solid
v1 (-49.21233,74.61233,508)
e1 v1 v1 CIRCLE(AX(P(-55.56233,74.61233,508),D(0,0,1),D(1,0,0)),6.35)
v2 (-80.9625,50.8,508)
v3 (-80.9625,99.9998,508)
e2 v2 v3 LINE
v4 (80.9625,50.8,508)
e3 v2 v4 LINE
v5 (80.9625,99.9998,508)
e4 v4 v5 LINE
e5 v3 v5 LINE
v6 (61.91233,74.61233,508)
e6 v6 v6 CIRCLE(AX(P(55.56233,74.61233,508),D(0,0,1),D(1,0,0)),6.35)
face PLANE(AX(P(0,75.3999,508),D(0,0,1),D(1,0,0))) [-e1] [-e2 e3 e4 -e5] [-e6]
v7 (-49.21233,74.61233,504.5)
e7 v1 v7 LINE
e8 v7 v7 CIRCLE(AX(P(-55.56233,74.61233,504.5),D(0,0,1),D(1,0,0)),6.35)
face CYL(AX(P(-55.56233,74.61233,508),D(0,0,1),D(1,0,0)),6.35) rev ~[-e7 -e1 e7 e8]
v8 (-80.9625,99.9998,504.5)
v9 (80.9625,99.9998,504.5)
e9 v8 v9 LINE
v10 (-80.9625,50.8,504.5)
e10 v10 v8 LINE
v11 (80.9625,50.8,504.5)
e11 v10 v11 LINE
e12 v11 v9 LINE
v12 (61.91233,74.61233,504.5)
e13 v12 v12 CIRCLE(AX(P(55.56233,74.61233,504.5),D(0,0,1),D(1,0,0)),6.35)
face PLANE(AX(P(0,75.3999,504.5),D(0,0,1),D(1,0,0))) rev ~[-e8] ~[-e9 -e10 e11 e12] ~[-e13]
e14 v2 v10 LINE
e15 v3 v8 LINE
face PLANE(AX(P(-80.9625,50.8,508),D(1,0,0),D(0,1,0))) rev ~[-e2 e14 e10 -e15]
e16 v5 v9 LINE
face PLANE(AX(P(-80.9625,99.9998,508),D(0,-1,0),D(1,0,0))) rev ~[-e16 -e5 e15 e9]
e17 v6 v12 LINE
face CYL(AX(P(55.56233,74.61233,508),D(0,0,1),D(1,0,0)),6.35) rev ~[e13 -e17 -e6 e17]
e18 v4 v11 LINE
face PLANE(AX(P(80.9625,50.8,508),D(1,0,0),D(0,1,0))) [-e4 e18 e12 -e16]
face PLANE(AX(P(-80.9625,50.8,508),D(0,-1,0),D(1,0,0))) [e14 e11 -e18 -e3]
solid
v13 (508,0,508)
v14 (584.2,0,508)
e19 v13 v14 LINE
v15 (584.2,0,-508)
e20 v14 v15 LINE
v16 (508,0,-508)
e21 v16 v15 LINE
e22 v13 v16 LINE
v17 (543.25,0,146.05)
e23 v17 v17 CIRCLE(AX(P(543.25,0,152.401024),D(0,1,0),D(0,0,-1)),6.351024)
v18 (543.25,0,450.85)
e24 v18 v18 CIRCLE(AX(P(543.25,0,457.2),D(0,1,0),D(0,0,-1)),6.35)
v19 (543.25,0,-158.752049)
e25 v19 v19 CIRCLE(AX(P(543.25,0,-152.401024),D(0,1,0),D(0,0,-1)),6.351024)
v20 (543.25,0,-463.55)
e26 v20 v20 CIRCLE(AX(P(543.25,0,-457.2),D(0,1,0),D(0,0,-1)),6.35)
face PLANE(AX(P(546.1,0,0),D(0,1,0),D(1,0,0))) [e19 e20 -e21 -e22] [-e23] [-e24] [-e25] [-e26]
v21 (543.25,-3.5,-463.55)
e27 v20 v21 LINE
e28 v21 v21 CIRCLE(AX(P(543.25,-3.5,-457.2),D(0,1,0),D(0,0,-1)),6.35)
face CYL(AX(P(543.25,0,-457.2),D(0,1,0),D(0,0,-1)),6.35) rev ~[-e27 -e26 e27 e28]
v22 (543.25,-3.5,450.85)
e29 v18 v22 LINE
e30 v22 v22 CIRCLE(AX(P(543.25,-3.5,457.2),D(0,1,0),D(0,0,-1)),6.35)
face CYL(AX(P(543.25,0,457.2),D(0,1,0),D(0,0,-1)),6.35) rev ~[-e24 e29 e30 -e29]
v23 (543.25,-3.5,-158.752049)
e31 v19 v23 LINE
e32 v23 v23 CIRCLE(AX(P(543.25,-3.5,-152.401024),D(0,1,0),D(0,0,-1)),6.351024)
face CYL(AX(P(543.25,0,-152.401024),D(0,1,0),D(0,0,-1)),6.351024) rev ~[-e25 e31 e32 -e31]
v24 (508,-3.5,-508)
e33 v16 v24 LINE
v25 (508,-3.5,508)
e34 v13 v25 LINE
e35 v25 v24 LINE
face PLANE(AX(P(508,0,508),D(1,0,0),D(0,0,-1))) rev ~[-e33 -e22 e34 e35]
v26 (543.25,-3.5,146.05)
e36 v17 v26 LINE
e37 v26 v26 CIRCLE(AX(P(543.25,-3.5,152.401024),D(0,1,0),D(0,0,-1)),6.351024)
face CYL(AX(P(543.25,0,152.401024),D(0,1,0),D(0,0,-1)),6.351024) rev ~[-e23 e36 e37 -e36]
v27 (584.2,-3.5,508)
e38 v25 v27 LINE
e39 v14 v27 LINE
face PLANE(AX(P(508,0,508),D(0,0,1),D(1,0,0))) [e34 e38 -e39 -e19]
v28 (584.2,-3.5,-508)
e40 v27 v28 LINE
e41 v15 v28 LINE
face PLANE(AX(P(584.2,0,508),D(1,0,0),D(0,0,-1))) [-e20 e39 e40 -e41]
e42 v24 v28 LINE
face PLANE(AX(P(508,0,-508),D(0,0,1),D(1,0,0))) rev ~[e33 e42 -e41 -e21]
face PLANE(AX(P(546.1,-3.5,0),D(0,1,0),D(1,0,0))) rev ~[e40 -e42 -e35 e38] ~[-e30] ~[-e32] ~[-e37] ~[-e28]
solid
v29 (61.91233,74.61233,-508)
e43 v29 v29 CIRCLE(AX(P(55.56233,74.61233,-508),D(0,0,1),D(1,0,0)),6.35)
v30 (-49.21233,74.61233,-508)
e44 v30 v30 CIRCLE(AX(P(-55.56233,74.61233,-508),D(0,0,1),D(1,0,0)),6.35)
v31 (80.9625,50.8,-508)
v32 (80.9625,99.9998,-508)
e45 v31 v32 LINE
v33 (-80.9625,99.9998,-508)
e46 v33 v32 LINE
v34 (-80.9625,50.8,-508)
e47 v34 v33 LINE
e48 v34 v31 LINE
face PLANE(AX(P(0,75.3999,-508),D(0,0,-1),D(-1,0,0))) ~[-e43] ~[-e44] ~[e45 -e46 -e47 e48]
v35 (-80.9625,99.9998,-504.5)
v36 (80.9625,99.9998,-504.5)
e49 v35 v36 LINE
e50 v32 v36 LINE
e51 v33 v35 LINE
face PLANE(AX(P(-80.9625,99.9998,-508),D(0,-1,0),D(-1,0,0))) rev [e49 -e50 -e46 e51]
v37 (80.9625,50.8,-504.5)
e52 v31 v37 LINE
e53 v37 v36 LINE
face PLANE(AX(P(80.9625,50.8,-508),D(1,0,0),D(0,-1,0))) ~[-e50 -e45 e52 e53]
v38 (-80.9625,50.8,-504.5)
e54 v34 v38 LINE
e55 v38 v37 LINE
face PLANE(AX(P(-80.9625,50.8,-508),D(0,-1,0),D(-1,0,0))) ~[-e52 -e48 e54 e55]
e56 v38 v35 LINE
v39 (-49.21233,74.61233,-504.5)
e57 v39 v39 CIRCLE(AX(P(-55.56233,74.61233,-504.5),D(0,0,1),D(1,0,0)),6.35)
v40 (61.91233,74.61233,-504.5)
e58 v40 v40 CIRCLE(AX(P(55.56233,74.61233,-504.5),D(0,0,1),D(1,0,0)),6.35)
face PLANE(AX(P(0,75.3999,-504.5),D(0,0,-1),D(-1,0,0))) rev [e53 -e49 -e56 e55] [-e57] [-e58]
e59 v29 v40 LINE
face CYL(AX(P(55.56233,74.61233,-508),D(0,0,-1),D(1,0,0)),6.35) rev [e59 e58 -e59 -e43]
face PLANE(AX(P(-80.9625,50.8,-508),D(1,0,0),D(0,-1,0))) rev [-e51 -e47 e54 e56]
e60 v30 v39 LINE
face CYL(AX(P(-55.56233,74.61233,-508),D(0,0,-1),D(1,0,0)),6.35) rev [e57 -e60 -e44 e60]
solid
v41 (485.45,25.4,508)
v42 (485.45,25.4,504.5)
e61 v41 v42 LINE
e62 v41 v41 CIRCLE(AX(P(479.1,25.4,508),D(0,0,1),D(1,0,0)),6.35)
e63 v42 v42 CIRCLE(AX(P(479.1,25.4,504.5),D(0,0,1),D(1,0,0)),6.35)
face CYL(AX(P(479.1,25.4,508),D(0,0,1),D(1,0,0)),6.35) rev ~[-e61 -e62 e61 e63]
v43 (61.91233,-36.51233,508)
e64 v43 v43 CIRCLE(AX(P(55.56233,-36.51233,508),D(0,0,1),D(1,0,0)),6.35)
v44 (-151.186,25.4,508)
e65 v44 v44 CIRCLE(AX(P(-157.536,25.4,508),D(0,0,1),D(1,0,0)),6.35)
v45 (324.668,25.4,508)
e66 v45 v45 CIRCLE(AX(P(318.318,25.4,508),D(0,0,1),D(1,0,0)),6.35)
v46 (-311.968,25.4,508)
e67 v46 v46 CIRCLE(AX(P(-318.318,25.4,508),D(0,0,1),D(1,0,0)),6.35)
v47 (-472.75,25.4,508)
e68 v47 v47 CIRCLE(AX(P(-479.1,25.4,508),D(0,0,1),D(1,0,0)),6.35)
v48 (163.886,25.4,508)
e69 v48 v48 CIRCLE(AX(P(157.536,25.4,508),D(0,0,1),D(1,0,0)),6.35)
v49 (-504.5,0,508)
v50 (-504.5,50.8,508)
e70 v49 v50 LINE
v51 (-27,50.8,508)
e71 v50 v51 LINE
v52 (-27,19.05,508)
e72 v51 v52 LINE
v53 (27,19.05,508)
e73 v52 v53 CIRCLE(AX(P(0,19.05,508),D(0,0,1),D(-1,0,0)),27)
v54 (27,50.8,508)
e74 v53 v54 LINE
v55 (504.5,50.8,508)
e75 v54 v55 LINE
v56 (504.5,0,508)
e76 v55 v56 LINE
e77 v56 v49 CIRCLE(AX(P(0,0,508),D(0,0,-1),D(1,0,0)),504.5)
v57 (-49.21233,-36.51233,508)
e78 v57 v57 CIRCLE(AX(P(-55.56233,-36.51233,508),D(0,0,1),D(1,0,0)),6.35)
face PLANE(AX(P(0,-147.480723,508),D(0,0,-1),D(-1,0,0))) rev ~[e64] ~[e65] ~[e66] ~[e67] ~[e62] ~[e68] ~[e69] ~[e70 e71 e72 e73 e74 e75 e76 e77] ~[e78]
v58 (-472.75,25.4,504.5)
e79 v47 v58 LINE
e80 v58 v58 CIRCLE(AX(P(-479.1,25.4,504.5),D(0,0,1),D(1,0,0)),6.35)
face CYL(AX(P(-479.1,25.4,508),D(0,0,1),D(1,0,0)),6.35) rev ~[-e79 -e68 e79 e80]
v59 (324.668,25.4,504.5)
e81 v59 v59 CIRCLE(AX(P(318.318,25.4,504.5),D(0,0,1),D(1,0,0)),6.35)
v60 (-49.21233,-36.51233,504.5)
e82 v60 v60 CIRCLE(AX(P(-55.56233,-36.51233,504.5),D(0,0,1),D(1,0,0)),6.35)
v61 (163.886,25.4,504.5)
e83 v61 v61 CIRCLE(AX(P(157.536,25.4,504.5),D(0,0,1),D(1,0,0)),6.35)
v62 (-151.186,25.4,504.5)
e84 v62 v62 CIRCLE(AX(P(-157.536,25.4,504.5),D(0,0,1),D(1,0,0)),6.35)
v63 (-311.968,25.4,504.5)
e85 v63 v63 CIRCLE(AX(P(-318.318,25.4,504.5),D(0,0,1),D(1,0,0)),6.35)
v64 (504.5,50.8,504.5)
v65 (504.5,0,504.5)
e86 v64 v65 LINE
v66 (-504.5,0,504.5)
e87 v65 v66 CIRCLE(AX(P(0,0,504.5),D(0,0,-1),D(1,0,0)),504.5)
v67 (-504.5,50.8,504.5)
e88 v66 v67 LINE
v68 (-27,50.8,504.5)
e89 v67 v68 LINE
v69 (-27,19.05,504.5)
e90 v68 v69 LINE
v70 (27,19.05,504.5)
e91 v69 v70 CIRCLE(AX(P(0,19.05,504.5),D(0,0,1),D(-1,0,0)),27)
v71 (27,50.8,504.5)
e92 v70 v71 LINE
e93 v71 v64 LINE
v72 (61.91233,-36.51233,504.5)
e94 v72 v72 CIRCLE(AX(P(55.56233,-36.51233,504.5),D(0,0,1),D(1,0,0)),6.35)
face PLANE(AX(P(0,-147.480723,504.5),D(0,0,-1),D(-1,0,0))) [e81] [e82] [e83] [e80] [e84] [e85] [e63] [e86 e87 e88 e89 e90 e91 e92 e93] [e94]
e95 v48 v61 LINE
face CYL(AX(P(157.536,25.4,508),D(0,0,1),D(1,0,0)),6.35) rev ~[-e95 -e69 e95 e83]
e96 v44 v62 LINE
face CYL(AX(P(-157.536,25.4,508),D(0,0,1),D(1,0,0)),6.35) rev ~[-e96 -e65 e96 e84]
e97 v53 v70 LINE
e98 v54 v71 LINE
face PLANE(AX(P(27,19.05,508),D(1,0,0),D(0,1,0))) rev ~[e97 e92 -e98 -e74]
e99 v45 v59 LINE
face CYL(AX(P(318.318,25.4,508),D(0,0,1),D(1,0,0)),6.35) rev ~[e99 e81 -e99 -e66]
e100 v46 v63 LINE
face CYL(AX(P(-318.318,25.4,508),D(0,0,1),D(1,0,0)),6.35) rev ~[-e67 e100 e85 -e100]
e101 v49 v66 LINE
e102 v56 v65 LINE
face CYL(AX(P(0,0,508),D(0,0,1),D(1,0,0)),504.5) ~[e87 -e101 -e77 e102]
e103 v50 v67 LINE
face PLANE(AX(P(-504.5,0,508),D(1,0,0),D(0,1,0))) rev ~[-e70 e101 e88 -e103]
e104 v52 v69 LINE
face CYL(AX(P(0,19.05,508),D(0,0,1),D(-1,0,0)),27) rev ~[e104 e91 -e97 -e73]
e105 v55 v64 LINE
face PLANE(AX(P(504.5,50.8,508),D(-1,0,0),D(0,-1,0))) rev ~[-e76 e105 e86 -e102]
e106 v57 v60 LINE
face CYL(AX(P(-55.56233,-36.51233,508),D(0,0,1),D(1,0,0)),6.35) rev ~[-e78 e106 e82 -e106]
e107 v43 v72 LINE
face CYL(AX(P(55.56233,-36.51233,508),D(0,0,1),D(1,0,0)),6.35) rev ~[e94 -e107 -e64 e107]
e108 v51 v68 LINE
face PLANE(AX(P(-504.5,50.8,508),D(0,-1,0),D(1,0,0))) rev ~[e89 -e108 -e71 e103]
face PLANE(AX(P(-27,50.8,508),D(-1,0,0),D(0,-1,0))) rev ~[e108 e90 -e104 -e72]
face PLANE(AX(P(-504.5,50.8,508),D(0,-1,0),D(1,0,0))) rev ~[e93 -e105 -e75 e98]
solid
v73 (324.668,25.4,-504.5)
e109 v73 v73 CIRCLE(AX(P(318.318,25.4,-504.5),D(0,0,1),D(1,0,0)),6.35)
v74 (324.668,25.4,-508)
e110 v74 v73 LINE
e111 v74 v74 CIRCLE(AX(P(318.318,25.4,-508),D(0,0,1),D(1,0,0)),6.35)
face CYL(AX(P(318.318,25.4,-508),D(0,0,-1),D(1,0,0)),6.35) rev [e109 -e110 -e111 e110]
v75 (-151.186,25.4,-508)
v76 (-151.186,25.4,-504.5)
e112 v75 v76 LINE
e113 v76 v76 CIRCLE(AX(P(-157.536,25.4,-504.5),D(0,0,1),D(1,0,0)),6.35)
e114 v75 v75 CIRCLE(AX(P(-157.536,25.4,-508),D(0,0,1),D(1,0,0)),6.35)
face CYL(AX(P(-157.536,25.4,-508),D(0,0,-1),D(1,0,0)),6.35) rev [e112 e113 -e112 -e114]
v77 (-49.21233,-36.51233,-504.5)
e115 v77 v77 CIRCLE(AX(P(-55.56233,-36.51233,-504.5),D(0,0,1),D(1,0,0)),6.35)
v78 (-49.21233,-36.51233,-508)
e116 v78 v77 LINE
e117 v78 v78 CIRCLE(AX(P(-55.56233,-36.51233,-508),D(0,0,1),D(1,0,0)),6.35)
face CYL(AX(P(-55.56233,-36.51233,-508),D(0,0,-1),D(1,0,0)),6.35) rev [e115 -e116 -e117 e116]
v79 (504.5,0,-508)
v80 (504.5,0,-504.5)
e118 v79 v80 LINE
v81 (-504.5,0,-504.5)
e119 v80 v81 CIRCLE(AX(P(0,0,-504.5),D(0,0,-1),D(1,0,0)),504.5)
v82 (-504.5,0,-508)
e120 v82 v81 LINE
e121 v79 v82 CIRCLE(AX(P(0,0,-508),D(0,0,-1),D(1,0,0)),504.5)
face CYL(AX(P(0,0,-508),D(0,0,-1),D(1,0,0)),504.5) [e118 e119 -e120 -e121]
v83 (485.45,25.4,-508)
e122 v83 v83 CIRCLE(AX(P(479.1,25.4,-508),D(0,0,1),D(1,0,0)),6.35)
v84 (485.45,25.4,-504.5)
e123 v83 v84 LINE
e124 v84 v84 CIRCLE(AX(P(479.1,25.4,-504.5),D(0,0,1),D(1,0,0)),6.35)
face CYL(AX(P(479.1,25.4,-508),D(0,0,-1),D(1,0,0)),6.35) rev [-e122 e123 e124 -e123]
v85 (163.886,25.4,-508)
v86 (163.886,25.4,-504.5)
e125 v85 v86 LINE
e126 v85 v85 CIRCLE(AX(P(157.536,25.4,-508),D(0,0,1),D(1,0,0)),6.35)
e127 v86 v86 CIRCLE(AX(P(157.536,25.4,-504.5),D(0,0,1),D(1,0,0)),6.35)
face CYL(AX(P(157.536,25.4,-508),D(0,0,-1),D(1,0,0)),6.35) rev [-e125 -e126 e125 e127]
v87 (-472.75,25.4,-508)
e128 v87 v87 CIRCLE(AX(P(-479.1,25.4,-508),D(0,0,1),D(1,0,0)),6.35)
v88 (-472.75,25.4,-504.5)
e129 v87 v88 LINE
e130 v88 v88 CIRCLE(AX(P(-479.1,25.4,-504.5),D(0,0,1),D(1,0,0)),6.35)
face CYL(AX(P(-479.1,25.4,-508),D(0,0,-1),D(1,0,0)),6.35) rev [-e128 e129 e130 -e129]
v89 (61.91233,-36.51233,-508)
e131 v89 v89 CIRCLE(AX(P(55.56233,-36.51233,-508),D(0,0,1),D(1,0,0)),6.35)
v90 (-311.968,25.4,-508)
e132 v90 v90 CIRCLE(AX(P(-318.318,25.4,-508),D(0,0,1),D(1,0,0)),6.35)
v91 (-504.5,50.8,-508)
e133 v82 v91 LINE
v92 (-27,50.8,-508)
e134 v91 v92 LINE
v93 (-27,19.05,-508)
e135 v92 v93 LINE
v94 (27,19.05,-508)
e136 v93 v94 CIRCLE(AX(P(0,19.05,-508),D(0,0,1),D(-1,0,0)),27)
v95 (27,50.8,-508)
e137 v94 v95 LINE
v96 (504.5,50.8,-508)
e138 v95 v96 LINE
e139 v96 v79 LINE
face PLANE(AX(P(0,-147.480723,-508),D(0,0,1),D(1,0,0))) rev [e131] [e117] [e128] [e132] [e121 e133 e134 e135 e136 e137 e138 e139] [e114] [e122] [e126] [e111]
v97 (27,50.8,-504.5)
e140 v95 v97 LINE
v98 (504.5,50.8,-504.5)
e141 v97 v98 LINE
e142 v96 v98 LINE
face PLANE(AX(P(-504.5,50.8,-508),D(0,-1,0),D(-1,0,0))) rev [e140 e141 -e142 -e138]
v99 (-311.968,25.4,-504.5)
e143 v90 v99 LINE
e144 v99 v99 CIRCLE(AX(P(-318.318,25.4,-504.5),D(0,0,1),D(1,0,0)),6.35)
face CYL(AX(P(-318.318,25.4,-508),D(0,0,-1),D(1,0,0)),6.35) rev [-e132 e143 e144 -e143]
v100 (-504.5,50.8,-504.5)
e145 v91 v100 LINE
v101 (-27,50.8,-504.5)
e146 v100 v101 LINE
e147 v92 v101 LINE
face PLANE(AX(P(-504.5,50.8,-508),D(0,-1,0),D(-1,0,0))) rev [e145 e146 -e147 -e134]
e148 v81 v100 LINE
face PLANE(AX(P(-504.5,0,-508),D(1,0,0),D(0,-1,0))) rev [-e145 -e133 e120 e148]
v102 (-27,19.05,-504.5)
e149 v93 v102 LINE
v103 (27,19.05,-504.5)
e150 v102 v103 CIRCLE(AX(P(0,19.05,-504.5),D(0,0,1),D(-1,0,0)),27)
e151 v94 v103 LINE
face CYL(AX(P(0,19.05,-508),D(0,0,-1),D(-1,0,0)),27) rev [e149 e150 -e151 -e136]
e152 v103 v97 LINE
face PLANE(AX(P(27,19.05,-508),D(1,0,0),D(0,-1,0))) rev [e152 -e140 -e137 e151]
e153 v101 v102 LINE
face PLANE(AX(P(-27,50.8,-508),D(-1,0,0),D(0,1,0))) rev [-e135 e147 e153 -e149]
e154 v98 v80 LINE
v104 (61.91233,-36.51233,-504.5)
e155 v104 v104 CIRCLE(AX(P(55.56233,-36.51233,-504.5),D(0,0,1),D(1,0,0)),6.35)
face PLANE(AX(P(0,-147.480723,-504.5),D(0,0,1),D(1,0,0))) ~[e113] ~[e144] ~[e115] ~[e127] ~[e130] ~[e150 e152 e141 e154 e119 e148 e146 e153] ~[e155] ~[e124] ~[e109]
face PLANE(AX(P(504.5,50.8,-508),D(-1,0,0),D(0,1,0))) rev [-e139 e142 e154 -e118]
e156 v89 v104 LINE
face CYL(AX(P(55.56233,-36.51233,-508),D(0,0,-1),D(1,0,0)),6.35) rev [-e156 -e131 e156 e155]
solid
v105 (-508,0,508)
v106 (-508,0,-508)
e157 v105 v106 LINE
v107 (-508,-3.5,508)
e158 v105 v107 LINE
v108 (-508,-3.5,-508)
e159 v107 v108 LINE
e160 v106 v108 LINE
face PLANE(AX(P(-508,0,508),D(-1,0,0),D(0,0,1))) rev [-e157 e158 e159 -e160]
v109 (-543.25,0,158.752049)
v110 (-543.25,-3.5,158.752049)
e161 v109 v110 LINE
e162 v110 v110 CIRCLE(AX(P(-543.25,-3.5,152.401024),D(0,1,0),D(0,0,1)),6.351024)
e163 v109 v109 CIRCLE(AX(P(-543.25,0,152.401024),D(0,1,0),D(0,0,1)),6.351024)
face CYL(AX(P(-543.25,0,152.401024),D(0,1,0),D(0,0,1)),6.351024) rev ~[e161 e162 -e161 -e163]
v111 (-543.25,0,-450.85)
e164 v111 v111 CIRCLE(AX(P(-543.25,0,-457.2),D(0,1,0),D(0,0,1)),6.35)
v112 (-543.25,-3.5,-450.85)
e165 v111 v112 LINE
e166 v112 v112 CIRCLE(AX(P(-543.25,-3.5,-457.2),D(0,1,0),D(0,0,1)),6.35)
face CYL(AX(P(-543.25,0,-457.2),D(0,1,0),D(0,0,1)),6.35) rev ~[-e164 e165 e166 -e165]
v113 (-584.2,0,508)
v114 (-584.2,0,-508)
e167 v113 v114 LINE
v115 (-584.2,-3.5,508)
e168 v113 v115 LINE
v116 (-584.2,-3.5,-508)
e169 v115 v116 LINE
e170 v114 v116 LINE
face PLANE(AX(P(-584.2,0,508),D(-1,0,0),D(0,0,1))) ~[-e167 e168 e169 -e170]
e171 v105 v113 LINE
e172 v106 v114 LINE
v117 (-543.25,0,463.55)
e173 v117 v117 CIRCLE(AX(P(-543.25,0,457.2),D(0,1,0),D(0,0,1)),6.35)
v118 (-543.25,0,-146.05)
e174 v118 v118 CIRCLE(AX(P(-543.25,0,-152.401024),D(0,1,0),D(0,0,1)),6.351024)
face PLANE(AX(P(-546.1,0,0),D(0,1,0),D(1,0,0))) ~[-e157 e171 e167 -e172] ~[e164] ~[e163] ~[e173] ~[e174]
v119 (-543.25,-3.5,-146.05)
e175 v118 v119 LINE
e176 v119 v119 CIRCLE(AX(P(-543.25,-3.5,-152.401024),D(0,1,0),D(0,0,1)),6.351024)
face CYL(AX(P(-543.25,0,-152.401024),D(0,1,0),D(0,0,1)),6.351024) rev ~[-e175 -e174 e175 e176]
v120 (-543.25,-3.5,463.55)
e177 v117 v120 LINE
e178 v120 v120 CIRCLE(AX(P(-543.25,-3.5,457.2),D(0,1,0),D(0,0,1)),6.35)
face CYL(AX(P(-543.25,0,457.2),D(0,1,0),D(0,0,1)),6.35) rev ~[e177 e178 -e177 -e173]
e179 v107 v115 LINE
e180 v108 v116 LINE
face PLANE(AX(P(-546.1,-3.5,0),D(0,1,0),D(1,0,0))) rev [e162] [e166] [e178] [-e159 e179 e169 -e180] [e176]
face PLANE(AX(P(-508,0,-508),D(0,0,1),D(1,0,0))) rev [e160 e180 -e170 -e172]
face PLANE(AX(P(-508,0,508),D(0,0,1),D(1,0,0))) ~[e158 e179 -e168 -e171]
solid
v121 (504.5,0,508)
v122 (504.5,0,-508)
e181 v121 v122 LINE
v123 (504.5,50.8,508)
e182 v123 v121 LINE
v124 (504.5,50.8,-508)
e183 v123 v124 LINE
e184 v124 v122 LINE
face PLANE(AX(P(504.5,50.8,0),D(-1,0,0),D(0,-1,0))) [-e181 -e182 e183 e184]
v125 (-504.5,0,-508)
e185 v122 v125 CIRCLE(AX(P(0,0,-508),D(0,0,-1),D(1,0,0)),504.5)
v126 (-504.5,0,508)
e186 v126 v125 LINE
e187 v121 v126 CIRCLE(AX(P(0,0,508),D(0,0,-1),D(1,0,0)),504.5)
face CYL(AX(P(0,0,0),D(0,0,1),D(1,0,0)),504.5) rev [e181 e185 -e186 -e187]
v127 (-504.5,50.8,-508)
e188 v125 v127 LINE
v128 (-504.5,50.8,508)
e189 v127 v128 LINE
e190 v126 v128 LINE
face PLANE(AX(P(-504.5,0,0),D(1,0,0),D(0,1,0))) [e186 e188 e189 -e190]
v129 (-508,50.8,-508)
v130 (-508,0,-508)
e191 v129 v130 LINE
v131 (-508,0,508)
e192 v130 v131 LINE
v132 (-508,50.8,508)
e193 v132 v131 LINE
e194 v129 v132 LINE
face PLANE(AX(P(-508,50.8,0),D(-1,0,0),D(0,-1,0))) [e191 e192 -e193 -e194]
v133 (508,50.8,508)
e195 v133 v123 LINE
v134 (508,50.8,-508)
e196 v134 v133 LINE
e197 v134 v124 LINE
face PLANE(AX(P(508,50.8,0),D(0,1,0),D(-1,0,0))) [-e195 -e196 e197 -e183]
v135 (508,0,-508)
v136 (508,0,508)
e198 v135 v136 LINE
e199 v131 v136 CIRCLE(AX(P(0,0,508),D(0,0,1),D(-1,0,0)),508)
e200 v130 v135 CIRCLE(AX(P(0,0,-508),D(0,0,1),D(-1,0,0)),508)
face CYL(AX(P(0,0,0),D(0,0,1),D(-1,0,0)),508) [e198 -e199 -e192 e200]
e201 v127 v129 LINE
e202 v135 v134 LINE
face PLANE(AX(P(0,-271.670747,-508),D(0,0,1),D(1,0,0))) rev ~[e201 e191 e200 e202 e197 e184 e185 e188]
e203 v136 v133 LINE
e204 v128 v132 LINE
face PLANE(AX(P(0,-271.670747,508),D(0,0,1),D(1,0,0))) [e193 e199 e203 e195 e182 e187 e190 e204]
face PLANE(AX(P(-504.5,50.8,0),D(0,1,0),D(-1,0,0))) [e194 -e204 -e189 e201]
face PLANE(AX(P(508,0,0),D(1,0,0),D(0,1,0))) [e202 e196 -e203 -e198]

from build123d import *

# Parameters (mm, degrees)
RESSALTO_EXTRUS_O1_DEPTH = 508
RESSALTO_EXTRUS_O2_DEPTH = 3.5
ESBO_O3_R                = 6.35
CORTE_EXTRUS_O1_DEPTH    = 3.5
ESBO_O4_W                = 161.925
ESBO_O4_H                = 49.1998
RESSALTO_EXTRUS_O3_DEPTH = 3.5
ESBO_O6_R                = 6.35
CORTE_EXTRUS_O2_DEPTH    = 3.5
ESBO_O7_W                = 76.2
ESBO_O7_H                = 1016
RESSALTO_EXTRUS_O4_DEPTH = 3.5
ESBO_O8_R                = 6.35
ESBO_O8_R_2              = 6.351024484
CORTE_EXTRUS_O3_DEPTH    = 3.5


with BuildPart() as part:
    # Esboço1 → Ressalto-extrusão1 (new, symmetric)
    with BuildSketch(Plane.XY):
        with BuildLine():
            Line((-504.5, 0), (-504.5, 50.8))
            Line((-504.5, 50.8), (-508, 50.8))
            Line((-508, 50.8), (-508, 0))
            ThreePointArc((-508, 0), (0, -508), (508, 0))
            Line((508, 0), (508, 50.8))
            Line((508, 50.8), (504.5, 50.8))
            Line((504.5, 50.8), (504.5, 0))
            ThreePointArc((504.5, 0), (0, -504.5), (-504.5, 0))
        make_face()
    extrude(amount=RESSALTO_EXTRUS_O1_DEPTH, both=True)


with BuildPart() as body_2:
    # Esboço2 → Ressalto-extrusão2 (new body)
    with BuildSketch(Plane.XY.offset(508)):
        with BuildLine():
            Line((504.5, 50.8), (504.5, 0))
            ThreePointArc((504.5, 0), (0, -504.5), (-504.5, 0))
            Line((-504.5, 0), (-504.5, 50.8))
            Line((-504.5, 50.8), (504.5, 50.8))
        make_face()
    extrude(amount=-RESSALTO_EXTRUS_O2_DEPTH)

    # Esboço3 → Corte-extrusão1 (cut)
    with BuildSketch(Plane.XY.offset(508)):
        with Locations((-479.1, 25.4)):
            Circle(ESBO_O3_R)
        with Locations((-318.318, 25.4)):
            Circle(ESBO_O3_R)
        with Locations((-157.536, 25.4)):
            Circle(ESBO_O3_R)
        with Locations((157.536, 25.4)):
            Circle(ESBO_O3_R)
        with Locations((318.318, 25.4)):
            Circle(ESBO_O3_R)
        with Locations((479.1, 25.4)):
            Circle(ESBO_O3_R)
        with BuildLine():
            Line((27, 19.05), (27, 50.8))
            Line((27, 50.8), (-27, 50.8))
            Line((-27, 50.8), (-27, 19.05))
            ThreePointArc((-27, 19.05), (0, -7.95), (27, 19.05))
        make_face()
    extrude(amount=-CORTE_EXTRUS_O1_DEPTH, mode=Mode.SUBTRACT)


with BuildPart() as body_3:
    # Esboço4 → Ressalto-extrusão3 (new body)
    with BuildSketch(Plane.XY.offset(508)):
        with Locations((0, 75.3999)):
            Rectangle(ESBO_O4_W, ESBO_O4_H)
    extrude(amount=-RESSALTO_EXTRUS_O3_DEPTH)


with BuildPart() as corte_extrus_o2_tool:
    # Esboço6 → Corte-extrusão2 (new body)
    with BuildSketch(Plane.XY.offset(508)):
        with Locations((-55.562329545, 74.612329545)):
            Circle(ESBO_O6_R)
        with Locations((55.562329545, 74.612329545)):
            Circle(ESBO_O6_R)
        with Locations((55.562329545, -36.512329545)):
            Circle(ESBO_O6_R)
        with Locations((-55.562329545, -36.512329545)):
            Circle(ESBO_O6_R)
    extrude(amount=-CORTE_EXTRUS_O2_DEPTH)


with BuildPart() as body_2_1:
    add(body_2.part)

    # Corte-extrusão2: cut by corte_extrus_o2_tool
    add(corte_extrus_o2_tool.part, mode=Mode.SUBTRACT)


with BuildPart() as body_3_1:
    add(body_3.part)

    # Corte-extrusão2: cut by corte_extrus_o2_tool
    add(corte_extrus_o2_tool.part, mode=Mode.SUBTRACT)


with BuildPart() as body_4:
    # Espelhar1: mirrored copy
    add(body_2_1.part.mirror(Plane.XY))


with BuildPart() as body_5:
    # Espelhar1 2: mirrored copy
    add(body_3_1.part.mirror(Plane.XY))


with BuildPart() as body_6:
    # Esboço7 → Ressalto-extrusão4 (new body)
    with BuildSketch(Plane(origin=(0, 0, 0), x_dir=(1, 0, 0), z_dir=(0, 1, 0))):
        with Locations((546.1, 0)):
            Rectangle(ESBO_O7_W, ESBO_O7_H)
    extrude(amount=-RESSALTO_EXTRUS_O4_DEPTH)


with BuildPart() as body_7:
    # Espelhar2: mirrored copy
    add(body_6.part.mirror(Plane(origin=(0, 0, 0), x_dir=(0, 0, 1), z_dir=(1, 0, 0))))


with BuildPart() as corte_extrus_o3_tool:
    # Esboço8 → Corte-extrusão3 (new body)
    with BuildSketch(Plane(origin=(0, 0, 0), x_dir=(1, 0, 0), z_dir=(0, 1, 0))):
        with Locations(Location((-543.25, -457.2, 0), (0, 0, 270))):
            Circle(ESBO_O8_R)
        with Locations(Location((-543.25, -152.401024484, 0), (0, 0, 270))):
            Circle(ESBO_O8_R_2)
        with Locations(Location((-543.25, 152.401024484, 0), (0, 0, 270))):
            Circle(ESBO_O8_R_2)
        with Locations(Location((-543.25, 457.2, 0), (0, 0, 270))):
            Circle(ESBO_O8_R)
        with Locations(Location((543.25, 457.2, 0), (0, 0, 90))):
            Circle(ESBO_O8_R)
        with Locations(Location((543.25, 152.401024484, 0), (0, 0, 90))):
            Circle(ESBO_O8_R_2)
        with Locations(Location((543.25, -152.401024484, 0), (0, 0, 90))):
            Circle(ESBO_O8_R_2)
        with Locations(Location((543.25, -457.2, 0), (0, 0, 90))):
            Circle(ESBO_O8_R)
    extrude(amount=-CORTE_EXTRUS_O3_DEPTH)


with BuildPart() as body_6_1:
    add(body_6.part)

    # Corte-extrusão3: cut by corte_extrus_o3_tool
    add(corte_extrus_o3_tool.part, mode=Mode.SUBTRACT)


with BuildPart() as body_7_1:
    add(body_7.part)

    # Corte-extrusão3: cut by corte_extrus_o3_tool
    add(corte_extrus_o3_tool.part, mode=Mode.SUBTRACT)


solid = Compound([part.part, body_2_1.part, body_3_1.part, body_4.part, body_5.part, body_6_1.part, body_7_1.part])
